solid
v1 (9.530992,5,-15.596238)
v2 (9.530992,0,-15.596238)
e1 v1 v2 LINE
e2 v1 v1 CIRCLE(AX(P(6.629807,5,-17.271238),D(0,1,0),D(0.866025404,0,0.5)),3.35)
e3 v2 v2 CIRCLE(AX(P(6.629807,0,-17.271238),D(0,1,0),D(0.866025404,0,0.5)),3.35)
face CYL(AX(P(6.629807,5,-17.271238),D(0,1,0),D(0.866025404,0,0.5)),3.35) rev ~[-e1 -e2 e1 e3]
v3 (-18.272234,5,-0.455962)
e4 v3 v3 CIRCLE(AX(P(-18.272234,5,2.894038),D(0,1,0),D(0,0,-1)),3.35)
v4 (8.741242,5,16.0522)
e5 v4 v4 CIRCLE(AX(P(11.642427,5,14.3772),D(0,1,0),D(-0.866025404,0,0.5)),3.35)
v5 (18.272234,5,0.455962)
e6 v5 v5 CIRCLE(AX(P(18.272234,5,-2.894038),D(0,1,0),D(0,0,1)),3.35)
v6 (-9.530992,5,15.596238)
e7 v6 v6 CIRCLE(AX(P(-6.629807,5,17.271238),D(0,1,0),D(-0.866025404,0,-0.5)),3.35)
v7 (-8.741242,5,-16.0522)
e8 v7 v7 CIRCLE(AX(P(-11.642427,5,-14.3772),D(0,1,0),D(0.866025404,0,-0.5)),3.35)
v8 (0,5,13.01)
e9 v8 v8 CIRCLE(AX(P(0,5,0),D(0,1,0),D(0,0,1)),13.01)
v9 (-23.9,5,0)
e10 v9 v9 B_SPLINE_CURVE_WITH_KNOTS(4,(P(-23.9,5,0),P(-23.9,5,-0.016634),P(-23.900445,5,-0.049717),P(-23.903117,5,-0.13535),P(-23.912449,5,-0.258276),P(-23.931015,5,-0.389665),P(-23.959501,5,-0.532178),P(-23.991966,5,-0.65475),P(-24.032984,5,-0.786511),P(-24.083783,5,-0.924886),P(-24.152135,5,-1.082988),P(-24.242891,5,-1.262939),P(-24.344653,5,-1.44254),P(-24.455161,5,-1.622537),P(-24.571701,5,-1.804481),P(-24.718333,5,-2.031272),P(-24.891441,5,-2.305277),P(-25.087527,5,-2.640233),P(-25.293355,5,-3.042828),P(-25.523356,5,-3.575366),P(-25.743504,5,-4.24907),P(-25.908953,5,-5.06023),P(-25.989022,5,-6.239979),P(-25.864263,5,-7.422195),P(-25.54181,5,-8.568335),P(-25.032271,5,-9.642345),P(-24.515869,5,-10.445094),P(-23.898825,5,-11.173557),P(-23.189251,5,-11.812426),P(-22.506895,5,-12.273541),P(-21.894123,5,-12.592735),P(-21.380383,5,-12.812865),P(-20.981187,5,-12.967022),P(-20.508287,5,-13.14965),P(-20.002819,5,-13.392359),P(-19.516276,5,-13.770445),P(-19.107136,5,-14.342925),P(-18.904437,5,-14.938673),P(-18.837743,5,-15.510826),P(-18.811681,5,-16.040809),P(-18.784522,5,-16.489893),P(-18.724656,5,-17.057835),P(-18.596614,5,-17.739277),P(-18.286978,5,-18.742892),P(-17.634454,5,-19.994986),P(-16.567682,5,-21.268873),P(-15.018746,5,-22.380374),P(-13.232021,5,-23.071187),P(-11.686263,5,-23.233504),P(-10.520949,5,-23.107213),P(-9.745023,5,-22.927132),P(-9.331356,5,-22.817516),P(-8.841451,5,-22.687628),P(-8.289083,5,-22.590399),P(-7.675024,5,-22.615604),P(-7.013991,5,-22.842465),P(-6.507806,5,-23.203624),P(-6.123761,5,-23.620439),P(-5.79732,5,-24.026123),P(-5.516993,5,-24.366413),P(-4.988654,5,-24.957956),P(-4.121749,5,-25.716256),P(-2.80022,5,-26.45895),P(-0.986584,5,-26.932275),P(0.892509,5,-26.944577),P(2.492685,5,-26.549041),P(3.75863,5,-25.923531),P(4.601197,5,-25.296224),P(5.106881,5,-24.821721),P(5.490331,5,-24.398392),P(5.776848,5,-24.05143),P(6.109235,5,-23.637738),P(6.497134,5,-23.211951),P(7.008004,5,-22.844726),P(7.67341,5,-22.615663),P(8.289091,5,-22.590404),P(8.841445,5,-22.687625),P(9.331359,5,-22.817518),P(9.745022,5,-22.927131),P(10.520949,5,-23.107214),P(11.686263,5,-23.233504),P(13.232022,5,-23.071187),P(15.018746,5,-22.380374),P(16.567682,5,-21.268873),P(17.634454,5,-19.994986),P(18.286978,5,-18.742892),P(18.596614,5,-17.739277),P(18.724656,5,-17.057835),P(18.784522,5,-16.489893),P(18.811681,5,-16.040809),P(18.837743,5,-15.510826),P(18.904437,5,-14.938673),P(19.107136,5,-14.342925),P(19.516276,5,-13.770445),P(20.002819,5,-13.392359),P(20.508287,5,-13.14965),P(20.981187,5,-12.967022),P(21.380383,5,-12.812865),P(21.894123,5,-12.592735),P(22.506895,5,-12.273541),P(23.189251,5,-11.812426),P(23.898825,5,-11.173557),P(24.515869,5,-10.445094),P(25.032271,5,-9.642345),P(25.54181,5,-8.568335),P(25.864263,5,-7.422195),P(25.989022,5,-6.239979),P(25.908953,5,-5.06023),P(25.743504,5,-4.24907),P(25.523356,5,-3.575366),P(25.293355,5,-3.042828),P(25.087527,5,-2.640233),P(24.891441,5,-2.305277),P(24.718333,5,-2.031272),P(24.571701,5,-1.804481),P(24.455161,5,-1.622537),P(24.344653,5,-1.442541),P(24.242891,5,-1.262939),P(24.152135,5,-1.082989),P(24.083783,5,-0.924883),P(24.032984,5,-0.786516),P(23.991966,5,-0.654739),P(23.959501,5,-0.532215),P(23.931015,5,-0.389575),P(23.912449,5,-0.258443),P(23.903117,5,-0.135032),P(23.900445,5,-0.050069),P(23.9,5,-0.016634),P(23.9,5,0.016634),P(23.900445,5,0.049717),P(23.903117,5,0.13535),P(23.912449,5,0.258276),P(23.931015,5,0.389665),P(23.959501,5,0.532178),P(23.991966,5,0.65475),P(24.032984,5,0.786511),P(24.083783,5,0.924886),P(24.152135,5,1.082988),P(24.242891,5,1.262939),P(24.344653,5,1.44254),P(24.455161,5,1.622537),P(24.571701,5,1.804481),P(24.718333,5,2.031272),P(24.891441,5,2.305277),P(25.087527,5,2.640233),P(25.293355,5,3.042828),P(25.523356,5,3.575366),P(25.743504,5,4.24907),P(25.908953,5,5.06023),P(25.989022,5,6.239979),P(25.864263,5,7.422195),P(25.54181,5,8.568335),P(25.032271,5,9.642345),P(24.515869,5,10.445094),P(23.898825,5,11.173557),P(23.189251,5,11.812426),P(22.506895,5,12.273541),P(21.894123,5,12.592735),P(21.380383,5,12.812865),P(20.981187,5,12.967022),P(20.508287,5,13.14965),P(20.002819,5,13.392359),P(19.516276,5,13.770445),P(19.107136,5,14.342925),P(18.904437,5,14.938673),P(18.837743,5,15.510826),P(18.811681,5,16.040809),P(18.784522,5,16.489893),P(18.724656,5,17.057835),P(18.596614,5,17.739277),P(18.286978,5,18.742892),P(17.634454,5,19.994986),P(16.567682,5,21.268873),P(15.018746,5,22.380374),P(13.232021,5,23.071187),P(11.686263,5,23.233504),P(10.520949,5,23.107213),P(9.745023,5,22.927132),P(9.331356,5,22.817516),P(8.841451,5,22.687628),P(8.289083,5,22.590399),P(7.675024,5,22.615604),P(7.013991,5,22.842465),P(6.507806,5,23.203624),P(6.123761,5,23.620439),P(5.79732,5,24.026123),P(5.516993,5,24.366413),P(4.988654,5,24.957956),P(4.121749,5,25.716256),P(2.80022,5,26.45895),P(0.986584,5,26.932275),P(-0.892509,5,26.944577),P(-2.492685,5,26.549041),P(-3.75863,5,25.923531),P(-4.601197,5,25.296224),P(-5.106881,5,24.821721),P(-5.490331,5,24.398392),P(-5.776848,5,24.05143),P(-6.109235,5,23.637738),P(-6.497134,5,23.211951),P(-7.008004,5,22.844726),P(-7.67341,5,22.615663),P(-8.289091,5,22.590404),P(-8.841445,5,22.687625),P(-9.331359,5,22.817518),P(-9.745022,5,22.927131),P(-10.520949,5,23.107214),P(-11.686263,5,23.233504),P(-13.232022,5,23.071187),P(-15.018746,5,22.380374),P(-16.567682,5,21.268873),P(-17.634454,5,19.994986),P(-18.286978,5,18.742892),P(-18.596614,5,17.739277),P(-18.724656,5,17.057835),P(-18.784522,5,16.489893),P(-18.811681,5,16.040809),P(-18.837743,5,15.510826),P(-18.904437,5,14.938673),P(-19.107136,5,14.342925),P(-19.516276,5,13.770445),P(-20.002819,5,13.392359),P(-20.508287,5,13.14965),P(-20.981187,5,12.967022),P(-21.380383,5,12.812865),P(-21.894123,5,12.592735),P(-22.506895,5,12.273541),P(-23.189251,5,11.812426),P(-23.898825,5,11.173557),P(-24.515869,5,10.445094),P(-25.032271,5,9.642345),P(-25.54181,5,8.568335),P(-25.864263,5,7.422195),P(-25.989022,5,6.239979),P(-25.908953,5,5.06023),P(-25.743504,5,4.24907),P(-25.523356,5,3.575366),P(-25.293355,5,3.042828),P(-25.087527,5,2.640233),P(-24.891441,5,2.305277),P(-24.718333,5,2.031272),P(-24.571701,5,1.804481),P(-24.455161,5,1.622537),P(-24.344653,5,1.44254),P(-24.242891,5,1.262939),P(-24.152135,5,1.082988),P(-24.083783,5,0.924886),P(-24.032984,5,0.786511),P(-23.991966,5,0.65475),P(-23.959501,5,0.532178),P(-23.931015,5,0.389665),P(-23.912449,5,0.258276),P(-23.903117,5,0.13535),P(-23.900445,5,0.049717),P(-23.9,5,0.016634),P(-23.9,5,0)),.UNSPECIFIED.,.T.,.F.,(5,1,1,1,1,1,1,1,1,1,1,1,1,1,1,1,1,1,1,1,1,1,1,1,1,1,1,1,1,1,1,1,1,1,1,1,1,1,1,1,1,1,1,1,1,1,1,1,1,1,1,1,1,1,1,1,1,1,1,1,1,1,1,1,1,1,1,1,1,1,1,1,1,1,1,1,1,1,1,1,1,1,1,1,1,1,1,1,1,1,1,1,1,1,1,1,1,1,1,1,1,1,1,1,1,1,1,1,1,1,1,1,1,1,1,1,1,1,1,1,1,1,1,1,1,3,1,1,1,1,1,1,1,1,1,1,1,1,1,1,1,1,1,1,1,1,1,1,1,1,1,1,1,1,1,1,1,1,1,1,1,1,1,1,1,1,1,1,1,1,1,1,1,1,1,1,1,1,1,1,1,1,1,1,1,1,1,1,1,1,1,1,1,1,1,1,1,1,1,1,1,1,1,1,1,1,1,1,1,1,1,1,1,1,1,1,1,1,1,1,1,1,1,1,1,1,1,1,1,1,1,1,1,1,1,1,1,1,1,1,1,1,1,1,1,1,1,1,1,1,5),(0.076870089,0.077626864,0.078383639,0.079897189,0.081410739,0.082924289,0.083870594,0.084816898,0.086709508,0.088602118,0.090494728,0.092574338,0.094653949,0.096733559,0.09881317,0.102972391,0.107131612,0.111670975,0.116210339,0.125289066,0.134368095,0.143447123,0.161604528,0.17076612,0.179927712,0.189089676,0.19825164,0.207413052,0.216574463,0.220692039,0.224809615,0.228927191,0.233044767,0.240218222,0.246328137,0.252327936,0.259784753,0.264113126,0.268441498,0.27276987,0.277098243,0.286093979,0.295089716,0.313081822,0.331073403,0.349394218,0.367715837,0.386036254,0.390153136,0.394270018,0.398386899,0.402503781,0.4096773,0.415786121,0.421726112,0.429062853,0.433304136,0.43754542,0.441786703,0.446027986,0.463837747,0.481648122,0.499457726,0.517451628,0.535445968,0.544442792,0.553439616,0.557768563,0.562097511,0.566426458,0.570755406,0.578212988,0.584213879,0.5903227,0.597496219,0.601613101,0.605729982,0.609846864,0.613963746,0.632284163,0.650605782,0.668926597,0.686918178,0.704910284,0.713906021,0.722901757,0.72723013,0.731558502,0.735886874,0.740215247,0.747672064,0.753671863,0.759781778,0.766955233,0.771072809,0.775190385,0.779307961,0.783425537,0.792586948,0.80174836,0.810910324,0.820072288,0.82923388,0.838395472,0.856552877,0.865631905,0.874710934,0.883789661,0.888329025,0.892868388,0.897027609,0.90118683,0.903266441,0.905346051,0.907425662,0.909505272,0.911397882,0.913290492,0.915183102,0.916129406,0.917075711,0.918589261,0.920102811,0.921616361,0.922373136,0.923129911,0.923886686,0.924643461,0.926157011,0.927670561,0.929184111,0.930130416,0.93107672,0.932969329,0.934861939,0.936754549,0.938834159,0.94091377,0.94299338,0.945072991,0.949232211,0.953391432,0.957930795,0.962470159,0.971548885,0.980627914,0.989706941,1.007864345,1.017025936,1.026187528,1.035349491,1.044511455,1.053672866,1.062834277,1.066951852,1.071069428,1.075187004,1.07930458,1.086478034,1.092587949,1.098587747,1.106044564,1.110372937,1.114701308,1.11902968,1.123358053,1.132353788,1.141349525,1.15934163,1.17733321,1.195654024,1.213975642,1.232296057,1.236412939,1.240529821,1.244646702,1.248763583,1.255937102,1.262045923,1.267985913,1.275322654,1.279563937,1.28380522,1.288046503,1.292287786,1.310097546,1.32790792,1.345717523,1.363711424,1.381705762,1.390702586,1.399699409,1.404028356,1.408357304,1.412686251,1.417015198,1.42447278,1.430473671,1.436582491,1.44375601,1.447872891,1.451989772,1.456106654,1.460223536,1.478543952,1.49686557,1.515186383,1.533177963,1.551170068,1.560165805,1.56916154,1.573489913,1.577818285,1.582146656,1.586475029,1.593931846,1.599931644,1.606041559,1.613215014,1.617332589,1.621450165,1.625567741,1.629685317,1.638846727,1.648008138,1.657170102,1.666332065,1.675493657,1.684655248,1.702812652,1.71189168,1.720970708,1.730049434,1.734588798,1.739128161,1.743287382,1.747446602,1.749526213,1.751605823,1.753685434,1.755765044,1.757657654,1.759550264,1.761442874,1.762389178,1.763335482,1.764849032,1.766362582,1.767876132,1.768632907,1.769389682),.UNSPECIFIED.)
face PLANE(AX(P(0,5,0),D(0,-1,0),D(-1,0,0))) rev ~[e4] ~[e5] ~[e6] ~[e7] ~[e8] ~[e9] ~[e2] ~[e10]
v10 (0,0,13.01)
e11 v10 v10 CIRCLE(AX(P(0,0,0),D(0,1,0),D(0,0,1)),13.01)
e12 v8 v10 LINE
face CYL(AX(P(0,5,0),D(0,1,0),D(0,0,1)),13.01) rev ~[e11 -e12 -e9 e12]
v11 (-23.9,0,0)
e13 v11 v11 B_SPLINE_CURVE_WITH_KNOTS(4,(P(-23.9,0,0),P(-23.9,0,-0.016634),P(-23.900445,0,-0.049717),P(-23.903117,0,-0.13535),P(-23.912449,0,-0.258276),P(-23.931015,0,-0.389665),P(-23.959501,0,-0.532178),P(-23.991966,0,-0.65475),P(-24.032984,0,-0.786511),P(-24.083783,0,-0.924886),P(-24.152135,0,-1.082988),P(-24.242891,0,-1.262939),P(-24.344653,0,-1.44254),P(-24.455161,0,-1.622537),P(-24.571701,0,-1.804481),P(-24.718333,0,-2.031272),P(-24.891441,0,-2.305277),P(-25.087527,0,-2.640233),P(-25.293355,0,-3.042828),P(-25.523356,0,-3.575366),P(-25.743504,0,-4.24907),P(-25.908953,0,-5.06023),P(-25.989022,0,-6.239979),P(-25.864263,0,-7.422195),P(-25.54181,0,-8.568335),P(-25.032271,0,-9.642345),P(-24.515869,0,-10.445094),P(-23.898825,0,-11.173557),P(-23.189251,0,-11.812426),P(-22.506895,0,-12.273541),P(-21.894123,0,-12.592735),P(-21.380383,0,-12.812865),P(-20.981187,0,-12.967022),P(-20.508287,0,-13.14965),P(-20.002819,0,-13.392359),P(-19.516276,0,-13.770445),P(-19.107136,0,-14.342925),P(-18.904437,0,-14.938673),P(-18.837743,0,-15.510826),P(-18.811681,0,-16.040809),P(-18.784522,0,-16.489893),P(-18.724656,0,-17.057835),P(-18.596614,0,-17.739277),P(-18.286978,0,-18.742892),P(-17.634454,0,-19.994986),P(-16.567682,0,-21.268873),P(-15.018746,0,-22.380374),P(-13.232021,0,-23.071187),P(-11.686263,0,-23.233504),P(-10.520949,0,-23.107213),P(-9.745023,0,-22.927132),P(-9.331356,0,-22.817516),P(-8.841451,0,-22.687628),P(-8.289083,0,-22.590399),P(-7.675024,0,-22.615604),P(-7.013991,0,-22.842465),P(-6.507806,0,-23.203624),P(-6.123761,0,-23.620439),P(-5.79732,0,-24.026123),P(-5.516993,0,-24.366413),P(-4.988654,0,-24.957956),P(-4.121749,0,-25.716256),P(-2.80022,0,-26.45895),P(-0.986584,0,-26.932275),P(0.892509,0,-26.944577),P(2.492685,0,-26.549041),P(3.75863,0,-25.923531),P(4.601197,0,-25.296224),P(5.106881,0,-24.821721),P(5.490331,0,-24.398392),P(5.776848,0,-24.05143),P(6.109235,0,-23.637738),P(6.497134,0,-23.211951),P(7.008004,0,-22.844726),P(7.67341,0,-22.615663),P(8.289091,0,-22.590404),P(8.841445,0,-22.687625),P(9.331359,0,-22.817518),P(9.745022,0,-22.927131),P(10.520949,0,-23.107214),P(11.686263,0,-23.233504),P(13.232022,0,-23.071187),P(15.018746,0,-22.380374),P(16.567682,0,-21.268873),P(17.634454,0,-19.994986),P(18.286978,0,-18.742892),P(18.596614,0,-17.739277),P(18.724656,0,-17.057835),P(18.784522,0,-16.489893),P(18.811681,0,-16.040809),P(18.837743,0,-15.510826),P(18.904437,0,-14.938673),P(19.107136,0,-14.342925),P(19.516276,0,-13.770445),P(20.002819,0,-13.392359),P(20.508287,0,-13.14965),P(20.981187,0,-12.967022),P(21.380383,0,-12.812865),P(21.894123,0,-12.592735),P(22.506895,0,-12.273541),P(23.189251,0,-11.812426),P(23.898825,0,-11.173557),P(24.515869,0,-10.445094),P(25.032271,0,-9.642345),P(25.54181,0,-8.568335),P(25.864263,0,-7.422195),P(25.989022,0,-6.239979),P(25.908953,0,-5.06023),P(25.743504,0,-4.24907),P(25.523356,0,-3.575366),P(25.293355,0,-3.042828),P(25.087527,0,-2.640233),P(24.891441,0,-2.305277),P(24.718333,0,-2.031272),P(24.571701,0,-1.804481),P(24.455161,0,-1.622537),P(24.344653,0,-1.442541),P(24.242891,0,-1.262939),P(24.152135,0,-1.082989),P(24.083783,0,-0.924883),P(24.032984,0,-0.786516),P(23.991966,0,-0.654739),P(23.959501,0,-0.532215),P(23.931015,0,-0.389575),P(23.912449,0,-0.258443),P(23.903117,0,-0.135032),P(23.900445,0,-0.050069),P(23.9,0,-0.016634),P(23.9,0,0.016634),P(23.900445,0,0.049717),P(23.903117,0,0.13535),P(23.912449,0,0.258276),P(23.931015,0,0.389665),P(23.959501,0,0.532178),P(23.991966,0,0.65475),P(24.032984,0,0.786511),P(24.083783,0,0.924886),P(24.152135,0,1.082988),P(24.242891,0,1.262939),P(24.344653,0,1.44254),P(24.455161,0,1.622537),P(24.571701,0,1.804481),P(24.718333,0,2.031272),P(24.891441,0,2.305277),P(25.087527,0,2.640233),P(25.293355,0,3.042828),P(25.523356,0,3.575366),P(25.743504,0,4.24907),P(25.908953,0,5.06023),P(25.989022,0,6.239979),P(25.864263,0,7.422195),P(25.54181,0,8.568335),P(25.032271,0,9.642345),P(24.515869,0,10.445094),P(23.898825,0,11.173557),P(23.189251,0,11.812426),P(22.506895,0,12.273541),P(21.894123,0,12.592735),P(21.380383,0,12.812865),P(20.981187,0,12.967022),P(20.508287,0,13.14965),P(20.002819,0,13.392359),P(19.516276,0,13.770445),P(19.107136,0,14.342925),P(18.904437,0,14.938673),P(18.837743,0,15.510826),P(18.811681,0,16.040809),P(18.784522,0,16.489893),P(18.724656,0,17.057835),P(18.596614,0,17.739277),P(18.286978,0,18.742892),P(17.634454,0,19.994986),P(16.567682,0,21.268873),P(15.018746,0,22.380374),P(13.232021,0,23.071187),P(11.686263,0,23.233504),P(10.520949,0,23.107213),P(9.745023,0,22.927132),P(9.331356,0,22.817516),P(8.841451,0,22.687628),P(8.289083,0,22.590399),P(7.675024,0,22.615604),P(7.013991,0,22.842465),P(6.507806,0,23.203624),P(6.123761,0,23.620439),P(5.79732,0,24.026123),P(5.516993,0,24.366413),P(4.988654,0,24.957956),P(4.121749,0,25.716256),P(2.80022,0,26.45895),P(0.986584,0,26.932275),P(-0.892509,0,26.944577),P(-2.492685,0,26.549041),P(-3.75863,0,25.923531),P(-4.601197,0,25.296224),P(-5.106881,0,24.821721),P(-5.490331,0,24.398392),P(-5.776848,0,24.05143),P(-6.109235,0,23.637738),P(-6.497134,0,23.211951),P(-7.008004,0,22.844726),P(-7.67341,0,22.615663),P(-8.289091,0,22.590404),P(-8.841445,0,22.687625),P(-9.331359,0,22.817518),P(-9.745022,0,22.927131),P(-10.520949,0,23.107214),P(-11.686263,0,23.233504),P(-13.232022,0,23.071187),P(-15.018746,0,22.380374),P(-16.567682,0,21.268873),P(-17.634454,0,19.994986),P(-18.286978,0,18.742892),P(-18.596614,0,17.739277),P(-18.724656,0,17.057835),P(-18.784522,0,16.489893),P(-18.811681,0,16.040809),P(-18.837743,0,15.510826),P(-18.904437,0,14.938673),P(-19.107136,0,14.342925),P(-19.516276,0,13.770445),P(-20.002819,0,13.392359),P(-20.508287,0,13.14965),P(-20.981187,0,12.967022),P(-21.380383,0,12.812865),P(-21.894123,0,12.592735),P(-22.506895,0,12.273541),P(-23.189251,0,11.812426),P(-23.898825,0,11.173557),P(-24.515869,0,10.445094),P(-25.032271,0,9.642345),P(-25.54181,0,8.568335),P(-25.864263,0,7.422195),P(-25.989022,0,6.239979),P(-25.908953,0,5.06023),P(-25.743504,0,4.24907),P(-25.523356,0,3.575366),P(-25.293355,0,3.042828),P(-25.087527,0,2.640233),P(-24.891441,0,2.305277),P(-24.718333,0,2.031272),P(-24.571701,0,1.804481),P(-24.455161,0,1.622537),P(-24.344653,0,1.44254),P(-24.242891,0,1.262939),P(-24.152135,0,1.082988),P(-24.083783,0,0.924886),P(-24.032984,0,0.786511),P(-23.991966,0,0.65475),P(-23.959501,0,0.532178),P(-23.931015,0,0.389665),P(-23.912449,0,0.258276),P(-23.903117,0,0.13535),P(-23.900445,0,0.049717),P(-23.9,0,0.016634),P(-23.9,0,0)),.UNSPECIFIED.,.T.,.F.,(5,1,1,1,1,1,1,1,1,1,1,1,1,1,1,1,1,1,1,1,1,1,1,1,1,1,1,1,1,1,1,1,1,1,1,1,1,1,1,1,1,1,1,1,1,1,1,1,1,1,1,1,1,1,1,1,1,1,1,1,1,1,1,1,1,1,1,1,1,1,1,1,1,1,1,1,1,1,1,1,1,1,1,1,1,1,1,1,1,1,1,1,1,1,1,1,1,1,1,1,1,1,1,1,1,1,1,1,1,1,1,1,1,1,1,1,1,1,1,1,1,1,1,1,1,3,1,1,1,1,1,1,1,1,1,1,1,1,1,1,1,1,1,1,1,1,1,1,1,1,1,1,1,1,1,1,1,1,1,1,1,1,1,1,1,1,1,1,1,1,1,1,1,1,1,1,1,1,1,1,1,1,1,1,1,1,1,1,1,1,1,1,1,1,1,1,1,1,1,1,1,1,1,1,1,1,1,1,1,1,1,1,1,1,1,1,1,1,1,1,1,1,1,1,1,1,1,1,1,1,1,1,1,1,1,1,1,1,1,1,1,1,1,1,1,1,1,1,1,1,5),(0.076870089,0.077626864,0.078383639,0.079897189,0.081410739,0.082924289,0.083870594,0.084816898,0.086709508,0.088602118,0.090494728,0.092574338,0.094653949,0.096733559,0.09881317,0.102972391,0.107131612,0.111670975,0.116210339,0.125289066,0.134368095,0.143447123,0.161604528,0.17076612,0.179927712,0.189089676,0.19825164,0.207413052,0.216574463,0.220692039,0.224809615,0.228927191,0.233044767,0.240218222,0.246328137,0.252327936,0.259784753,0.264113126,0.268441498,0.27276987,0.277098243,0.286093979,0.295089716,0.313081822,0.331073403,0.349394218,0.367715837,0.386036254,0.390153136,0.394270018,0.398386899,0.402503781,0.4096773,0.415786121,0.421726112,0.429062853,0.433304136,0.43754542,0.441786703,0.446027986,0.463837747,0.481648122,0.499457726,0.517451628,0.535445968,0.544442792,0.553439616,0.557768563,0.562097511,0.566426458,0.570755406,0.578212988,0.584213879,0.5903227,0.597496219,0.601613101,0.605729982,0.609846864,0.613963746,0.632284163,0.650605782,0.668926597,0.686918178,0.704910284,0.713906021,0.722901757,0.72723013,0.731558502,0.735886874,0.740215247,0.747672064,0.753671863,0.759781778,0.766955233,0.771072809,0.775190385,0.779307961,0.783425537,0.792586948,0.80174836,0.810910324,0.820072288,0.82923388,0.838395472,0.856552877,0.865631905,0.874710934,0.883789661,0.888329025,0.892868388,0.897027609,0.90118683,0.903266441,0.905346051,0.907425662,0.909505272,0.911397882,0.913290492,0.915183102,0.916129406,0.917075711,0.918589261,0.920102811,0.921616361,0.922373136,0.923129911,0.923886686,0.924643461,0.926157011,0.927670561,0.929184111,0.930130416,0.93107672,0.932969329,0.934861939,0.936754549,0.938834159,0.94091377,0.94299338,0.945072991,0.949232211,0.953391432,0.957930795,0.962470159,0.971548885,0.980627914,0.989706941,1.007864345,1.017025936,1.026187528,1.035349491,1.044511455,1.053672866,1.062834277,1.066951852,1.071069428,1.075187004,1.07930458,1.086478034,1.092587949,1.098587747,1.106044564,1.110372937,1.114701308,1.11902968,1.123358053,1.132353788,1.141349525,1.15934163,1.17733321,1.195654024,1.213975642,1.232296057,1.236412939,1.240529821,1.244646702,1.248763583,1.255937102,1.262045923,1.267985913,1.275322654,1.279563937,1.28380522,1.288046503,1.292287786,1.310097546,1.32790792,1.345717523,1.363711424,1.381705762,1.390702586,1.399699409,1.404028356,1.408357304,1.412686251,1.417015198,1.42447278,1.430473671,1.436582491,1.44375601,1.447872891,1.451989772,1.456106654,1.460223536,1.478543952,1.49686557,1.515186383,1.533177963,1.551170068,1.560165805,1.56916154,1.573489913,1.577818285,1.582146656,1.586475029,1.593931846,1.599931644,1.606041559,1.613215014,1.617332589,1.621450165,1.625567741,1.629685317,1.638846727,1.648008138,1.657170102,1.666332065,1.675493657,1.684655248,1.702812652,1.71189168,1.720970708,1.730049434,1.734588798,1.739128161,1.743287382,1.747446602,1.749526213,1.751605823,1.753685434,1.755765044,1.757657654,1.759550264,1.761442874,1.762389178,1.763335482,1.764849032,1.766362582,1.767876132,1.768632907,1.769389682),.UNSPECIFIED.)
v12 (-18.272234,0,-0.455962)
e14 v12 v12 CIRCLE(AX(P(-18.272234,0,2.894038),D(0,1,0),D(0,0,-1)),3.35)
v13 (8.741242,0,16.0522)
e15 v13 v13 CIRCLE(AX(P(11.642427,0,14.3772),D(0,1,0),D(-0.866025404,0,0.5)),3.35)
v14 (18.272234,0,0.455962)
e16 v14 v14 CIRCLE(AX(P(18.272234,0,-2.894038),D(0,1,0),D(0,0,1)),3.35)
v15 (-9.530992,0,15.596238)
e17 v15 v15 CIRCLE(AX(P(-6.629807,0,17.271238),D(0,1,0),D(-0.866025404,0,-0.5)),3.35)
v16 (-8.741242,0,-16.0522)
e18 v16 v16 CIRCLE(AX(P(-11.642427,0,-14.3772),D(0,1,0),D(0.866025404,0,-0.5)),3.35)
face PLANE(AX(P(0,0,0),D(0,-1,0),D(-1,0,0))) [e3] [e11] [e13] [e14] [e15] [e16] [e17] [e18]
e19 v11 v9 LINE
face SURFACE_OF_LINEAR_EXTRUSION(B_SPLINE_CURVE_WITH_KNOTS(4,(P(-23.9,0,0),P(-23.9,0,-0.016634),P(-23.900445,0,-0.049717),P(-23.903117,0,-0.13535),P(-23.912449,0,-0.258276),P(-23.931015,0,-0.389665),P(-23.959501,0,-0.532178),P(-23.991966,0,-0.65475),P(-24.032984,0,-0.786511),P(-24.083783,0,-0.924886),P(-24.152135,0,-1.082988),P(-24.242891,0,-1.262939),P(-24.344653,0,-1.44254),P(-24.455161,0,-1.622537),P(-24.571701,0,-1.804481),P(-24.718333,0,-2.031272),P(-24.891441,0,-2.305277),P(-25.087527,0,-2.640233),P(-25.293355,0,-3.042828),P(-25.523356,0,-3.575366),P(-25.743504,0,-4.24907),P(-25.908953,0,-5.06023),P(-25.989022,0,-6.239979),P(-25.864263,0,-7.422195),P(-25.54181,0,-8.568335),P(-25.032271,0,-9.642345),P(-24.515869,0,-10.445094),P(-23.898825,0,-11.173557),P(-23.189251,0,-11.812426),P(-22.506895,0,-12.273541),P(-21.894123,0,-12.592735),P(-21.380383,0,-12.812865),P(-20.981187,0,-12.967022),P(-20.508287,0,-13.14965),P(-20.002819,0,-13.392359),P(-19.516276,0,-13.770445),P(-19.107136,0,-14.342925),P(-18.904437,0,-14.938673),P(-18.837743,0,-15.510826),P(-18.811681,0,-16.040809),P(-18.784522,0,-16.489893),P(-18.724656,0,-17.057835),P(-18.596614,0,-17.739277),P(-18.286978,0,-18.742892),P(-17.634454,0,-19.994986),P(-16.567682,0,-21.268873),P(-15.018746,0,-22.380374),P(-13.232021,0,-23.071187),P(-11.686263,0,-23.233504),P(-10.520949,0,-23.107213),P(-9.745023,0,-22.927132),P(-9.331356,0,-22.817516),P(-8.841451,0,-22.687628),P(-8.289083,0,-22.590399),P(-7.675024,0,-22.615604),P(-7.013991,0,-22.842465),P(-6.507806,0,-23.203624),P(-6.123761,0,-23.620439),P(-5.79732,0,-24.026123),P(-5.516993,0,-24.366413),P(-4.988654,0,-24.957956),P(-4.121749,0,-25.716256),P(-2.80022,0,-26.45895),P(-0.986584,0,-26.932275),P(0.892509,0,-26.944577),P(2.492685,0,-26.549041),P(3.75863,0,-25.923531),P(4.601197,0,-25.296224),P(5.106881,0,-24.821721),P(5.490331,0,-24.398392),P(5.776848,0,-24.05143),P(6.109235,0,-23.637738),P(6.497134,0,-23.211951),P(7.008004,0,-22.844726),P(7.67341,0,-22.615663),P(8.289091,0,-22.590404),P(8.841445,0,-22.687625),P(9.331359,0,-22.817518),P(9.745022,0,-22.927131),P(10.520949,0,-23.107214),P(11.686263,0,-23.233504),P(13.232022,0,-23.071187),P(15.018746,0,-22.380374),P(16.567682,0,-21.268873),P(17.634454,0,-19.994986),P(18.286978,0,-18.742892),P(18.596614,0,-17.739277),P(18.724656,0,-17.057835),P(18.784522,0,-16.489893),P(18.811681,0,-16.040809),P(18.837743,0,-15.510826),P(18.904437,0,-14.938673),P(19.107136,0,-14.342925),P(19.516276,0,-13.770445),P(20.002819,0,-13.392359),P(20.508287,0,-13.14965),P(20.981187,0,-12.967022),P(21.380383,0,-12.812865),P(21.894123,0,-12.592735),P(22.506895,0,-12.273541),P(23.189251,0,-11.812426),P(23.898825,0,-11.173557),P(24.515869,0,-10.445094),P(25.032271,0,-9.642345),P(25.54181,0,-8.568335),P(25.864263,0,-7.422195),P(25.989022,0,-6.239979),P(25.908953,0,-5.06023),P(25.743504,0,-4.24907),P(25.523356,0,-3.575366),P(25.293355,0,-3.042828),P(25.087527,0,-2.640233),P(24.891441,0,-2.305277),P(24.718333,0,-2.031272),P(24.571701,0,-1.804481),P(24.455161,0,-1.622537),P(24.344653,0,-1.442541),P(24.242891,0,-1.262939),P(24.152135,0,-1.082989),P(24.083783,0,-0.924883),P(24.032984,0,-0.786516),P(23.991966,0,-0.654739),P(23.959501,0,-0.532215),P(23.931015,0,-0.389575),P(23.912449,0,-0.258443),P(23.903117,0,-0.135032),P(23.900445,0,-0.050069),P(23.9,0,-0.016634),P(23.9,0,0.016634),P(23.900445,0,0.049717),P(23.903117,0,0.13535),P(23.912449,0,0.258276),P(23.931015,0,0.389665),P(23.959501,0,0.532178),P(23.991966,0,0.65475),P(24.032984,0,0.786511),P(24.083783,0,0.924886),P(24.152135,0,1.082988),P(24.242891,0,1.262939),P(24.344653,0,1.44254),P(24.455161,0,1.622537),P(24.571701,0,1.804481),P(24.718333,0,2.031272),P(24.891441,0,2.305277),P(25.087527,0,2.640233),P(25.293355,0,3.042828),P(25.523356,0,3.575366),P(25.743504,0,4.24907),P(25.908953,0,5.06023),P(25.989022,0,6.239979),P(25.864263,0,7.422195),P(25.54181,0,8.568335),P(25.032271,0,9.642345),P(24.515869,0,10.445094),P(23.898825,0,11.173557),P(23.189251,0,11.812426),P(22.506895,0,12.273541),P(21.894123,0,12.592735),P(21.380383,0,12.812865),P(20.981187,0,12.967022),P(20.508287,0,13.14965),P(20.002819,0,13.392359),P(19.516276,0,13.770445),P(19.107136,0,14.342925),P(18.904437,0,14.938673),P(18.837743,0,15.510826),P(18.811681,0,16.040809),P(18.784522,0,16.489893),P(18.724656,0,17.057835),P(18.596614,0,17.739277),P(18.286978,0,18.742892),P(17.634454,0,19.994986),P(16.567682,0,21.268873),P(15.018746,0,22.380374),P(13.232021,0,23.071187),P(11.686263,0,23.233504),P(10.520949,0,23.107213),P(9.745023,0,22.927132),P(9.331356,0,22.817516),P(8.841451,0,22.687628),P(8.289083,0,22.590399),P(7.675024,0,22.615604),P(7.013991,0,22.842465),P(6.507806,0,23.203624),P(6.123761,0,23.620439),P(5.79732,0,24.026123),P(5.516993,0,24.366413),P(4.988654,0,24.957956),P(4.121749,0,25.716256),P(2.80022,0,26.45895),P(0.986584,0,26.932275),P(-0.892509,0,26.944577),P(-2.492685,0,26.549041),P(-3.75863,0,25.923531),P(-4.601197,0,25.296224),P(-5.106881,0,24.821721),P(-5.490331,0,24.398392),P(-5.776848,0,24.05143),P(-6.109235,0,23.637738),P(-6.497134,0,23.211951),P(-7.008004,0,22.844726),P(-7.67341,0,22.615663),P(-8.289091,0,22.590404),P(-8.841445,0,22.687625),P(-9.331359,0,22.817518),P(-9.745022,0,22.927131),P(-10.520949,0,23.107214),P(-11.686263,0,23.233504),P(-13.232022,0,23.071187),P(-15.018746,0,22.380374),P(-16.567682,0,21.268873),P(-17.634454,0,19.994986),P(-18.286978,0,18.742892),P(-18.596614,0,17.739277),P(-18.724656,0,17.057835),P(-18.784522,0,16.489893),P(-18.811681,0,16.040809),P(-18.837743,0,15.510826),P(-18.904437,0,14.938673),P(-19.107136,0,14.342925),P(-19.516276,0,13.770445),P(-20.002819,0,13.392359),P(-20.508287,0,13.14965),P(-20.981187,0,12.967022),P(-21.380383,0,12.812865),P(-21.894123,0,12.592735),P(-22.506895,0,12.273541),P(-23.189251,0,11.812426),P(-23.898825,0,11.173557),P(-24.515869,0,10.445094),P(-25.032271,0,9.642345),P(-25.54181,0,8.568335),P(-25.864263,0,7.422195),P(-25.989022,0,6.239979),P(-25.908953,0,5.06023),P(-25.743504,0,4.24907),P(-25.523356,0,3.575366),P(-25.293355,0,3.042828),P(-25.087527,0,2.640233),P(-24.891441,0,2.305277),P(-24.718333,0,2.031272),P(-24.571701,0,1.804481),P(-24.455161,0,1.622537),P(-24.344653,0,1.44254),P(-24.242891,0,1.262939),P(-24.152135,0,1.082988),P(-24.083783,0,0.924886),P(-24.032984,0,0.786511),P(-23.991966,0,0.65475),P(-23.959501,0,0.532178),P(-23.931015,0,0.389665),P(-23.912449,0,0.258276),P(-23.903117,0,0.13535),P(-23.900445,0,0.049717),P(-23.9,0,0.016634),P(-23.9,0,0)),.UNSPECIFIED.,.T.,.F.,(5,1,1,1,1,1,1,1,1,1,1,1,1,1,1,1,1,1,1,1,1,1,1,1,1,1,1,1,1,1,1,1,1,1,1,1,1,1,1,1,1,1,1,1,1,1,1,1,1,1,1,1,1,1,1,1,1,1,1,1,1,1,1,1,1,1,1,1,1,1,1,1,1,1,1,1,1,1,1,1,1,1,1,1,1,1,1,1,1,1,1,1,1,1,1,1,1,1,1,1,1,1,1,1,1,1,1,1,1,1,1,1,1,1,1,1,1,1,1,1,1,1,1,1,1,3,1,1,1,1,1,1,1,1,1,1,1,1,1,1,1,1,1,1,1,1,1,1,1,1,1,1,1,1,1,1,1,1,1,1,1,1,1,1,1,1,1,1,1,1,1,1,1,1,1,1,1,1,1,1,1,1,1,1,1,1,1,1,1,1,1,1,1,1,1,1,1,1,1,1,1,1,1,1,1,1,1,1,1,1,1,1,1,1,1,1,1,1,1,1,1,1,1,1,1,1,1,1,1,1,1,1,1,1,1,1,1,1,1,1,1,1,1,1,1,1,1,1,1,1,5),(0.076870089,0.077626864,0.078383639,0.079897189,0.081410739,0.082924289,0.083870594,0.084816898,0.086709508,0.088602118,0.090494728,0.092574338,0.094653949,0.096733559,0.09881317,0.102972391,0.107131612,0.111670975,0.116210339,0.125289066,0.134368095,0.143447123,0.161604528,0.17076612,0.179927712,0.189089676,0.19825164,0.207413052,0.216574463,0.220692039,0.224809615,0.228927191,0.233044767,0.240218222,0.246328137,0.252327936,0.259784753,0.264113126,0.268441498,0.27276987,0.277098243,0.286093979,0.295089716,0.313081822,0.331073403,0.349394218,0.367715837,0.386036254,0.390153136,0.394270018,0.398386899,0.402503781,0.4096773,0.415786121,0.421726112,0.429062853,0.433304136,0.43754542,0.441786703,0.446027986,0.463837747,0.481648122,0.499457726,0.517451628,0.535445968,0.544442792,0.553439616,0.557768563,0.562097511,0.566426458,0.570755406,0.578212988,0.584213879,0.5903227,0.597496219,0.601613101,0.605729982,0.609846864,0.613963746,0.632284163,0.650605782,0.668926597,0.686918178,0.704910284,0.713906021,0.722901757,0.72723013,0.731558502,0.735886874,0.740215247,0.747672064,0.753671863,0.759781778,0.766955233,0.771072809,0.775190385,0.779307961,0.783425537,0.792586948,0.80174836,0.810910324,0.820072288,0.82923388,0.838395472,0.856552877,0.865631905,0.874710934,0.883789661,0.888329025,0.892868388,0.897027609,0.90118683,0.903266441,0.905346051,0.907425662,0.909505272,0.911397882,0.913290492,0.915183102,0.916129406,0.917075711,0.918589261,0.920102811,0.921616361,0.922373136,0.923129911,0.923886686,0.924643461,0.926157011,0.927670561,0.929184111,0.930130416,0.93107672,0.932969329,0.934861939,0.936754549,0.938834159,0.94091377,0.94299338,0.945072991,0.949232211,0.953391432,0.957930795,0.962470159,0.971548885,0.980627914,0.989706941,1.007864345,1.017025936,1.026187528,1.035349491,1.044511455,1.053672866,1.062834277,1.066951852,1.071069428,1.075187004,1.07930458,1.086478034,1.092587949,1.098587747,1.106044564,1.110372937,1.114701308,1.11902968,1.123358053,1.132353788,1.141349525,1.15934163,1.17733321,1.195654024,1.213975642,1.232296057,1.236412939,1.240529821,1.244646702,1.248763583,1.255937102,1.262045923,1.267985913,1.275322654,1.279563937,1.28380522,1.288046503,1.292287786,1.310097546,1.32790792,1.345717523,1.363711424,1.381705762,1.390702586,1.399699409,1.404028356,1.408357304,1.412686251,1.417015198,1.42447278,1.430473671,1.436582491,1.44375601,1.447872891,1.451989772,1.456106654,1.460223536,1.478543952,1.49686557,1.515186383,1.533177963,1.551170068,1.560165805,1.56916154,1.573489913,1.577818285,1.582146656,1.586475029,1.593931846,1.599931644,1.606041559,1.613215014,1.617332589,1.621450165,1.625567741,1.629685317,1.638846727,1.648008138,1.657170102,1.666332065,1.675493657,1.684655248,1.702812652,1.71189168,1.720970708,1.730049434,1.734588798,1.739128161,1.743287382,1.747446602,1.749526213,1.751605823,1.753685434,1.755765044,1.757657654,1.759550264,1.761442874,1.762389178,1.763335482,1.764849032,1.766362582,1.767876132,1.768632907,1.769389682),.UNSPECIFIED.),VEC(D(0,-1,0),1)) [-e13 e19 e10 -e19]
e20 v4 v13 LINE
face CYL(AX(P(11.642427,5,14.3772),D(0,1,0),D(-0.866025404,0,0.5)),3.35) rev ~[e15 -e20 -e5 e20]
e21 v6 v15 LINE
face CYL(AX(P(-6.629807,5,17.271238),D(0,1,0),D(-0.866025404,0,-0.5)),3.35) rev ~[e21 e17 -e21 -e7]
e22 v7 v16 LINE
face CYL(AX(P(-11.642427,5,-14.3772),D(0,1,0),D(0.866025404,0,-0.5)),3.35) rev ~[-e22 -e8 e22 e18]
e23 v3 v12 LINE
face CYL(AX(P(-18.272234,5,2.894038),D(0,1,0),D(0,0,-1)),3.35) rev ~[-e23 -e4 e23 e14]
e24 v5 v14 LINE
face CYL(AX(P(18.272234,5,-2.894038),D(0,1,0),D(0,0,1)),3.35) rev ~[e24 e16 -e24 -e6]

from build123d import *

# Parameters (mm, degrees)
BOSS_EXTRUDE1_DEPTH = 5
SKETCH2_R           = 13.01
CUT_EXTRUDE1_DEPTH  = 38.707841393
SKETCH3_R           = 3.35
CUT_EXTRUDE2_DEPTH  = 38.707841393
CIRPATTERN1_COUNT   = 6


with BuildPart() as part:
    # Sketch1 → Boss-Extrude1 (new body)
    with BuildSketch(Plane(origin=(0, 0, 0), x_dir=(1, 0, 0), z_dir=(0, 1, 0))):
        with BuildLine():
            add(Edge.make_bspline(
                [(23.9, 0), (23.9, -0.016633989), (23.900445322, -0.049716738), (23.903117263, -0.135350435), (23.912449323, -0.258275625), (23.931014764, -0.389664583), (23.95950077, -0.532178366), (23.991965599, -0.654750336), (24.032983907, -0.786511172), (24.083782664, -0.924885773), (24.152134694, -1.082987887), (24.242890991, -1.262939392), (24.344653165, -1.442540166), (24.455160863, -1.62253731), (24.571701309, -1.804480724), (24.718332668, -2.031272436), (24.891440754, -2.305276667), (25.08752709, -2.640233385), (25.293354955, -3.042827983), (25.523356461, -3.575365943), (25.743503693, -4.249070037), (25.90895307, -5.060229623), (25.989021701, -6.239979202), (25.864263399, -7.422194916), (25.541810184, -8.56833506), (25.032271071, -9.642344828), (24.515868766, -10.44509368), (23.898825197, -11.173556713), (23.189250761, -11.812425557), (22.506894507, -12.273540648), (21.894123423, -12.592734858), (21.380382876, -12.81286495), (20.981186658, -12.967022062), (20.508286762, -13.149650453), (20.002819314, -13.392358805), (19.516275612, -13.770444983), (19.107135549, -14.342924661), (18.904436986, -14.938672604), (18.837743288, -15.510825887), (18.811680981, -16.040809437), (18.784521574, -16.489892991), (18.724656278, -17.057834998), (18.596613672, -17.739277292), (18.286978104, -18.742891592), (17.634453661, -19.994985608), (16.567681951, -21.268872628), (15.018746131, -22.380373674), (13.232021309, -23.071186796), (11.686263401, -23.233504295), (10.520948657, -23.10721323), (9.745023474, -22.927131672), (9.331355803, -22.817516456), (8.8414507, -22.687628022), (8.289082778, -22.590399027), (7.675024184, -22.615604046), (7.013991426, -22.842464767), (6.507806015, -23.203624322), (6.123760777, -23.620439494), (5.797319915, -24.026122754), (5.516993379, -24.366413103), (4.988653796, -24.957955887), (4.121749015, -25.716255592), (2.800220177, -26.458949577), (0.986584089, -26.932274503), (-0.892508871, -26.944576885), (-2.492684707, -26.549040992), (-3.758629608, -25.923530552), (-4.601197212, -25.296224361), (-5.106881385, -24.821721344), (-5.490331154, -24.398391643), (-5.776848315, -24.051429867), (-6.109234539, -23.637738359), (-6.497134166, -23.211951019), (-7.00800434, -22.844726368), (-7.673409625, -22.615662906), (-8.289091303, -22.590403621), (-8.841445105, -22.687625059), (-9.331358863, -22.817518065), (-9.745022337, -22.927131075), (-10.520949385, -23.107213612), (-11.686262901, -23.233504033), (-13.232021627, -23.071186963), (-15.018745949, -22.380373578), (-16.567682076, -21.268872694), (-17.63445358, -19.994985565), (-18.286978155, -18.742891619), (-18.596613642, -17.739277276), (-18.724656297, -17.057835008), (-18.784521564, -16.489892985), (-18.811680987, -16.04080944), (-18.837743285, -15.510825885), (-18.904436988, -14.938672605), (-19.107135548, -14.34292466), (-19.516275613, -13.770444984), (-20.002819314, -13.392358805), (-20.508286763, -13.149650453), (-20.981186657, -12.967022061), (-21.380382877, -12.81286495), (-21.894123423, -12.592734858), (-22.506894507, -12.273540648), (-23.189250761, -11.812425557), (-23.898825197, -11.173556713), (-24.515868766, -10.44509368), (-25.032271071, -9.642344828), (-25.541810184, -8.56833506), (-25.864263399, -7.422194916), (-25.989021701, -6.239979202), (-25.90895307, -5.060229623), (-25.743503693, -4.249070037), (-25.523356461, -3.575365943), (-25.293354955, -3.042827983), (-25.08752709, -2.640233385), (-24.891440754, -2.305276667), (-24.718332668, -2.031272436), (-24.571701309, -1.804480724), (-24.455160863, -1.62253731), (-24.344653165, -1.442540166), (-24.242890991, -1.262939392), (-24.152134694, -1.082987887), (-24.083782664, -0.924885773), (-24.032983907, -0.786511172), (-23.991965599, -0.654750336), (-23.95950077, -0.532178365), (-23.931014765, -0.389664584), (-23.912449321, -0.258275624), (-23.903117265, -0.135350437), (-23.900445324, -0.049716739), (-23.9, -0.016633989), (-23.9, 0)],
                knots=[0.076870089, 0.076870089, 0.076870089, 0.076870089, 0.076870089, 0.077626864, 0.078383639, 0.079897189, 0.081410739, 0.082924289, 0.083870594, 0.084816898, 0.086709508, 0.088602118, 0.090494728, 0.092574338, 0.094653949, 0.096733559, 0.09881317, 0.102972391, 0.107131612, 0.111670975, 0.116210339, 0.125289066, 0.134368095, 0.143447123, 0.161604528, 0.17076612, 0.179927712, 0.189089676, 0.19825164, 0.207413052, 0.216574463, 0.220692039, 0.224809615, 0.228927191, 0.233044767, 0.240218222, 0.246328137, 0.252327936, 0.259784753, 0.264113126, 0.268441498, 0.27276987, 0.277098243, 0.286093979, 0.295089716, 0.313081822, 0.331073403, 0.349394218, 0.367715837, 0.386036254, 0.390153136, 0.394270018, 0.398386899, 0.402503781, 0.4096773, 0.415786121, 0.421726112, 0.429062853, 0.433304136, 0.43754542, 0.441786703, 0.446027986, 0.463837747, 0.481648122, 0.499457726, 0.517451628, 0.535445968, 0.544442792, 0.553439616, 0.557768563, 0.562097511, 0.566426458, 0.570755406, 0.578212988, 0.584213879, 0.5903227, 0.597496219, 0.601613101, 0.605729982, 0.609846864, 0.613963746, 0.632284163, 0.650605782, 0.668926597, 0.686918178, 0.704910284, 0.713906021, 0.722901757, 0.72723013, 0.731558502, 0.735886874, 0.740215247, 0.747672064, 0.753671863, 0.759781778, 0.766955233, 0.771072809, 0.775190385, 0.779307961, 0.783425537, 0.792586948, 0.80174836, 0.810910324, 0.820072288, 0.82923388, 0.838395472, 0.856552877, 0.865631905, 0.874710934, 0.883789661, 0.888329025, 0.892868388, 0.897027609, 0.90118683, 0.903266441, 0.905346051, 0.907425662, 0.909505272, 0.911397882, 0.913290492, 0.915183102, 0.916129406, 0.917075711, 0.918589261, 0.920102811, 0.921616361, 0.922373136, 0.923129911, 0.923129911, 0.923129911, 0.923129911, 0.923129911], degree=4))
            add(Edge.make_bspline(
                [(-23.9, 0), (-23.9, 0.016633989), (-23.900445322, 0.049716738), (-23.903117263, 0.135350435), (-23.912449323, 0.258275625), (-23.931014764, 0.389664583), (-23.95950077, 0.532178365), (-23.991965599, 0.654750336), (-24.032983907, 0.786511172), (-24.083782664, 0.924885773), (-24.152134694, 1.082987887), (-24.242890991, 1.262939392), (-24.344653165, 1.442540166), (-24.455160863, 1.62253731), (-24.571701309, 1.804480724), (-24.718332668, 2.031272436), (-24.891440754, 2.305276667), (-25.08752709, 2.640233385), (-25.293354955, 3.042827983), (-25.523356461, 3.575365943), (-25.743503693, 4.249070037), (-25.90895307, 5.060229623), (-25.989021701, 6.239979202), (-25.864263399, 7.422194916), (-25.541810184, 8.56833506), (-25.032271071, 9.642344828), (-24.515868766, 10.44509368), (-23.898825197, 11.173556713), (-23.189250761, 11.812425557), (-22.506894507, 12.273540648), (-21.894123423, 12.592734858), (-21.380382876, 12.81286495), (-20.981186658, 12.967022062), (-20.508286762, 13.149650453), (-20.002819314, 13.392358805), (-19.516275612, 13.770444983), (-19.107135549, 14.342924661), (-18.904436986, 14.938672604), (-18.837743288, 15.510825887), (-18.811680981, 16.040809437), (-18.784521574, 16.489892991), (-18.724656278, 17.057834998), (-18.596613672, 17.739277292), (-18.286978104, 18.742891592), (-17.634453661, 19.994985608), (-16.567681951, 21.268872628), (-15.018746131, 22.380373674), (-13.232021309, 23.071186796), (-11.686263401, 23.233504295), (-10.520948657, 23.10721323), (-9.745023474, 22.927131672), (-9.331355803, 22.817516456), (-8.8414507, 22.687628022), (-8.289082778, 22.590399027), (-7.675024184, 22.615604046), (-7.013991426, 22.842464767), (-6.507806015, 23.203624322), (-6.123760777, 23.620439494), (-5.797319915, 24.026122754), (-5.516993379, 24.366413103), (-4.988653796, 24.957955887), (-4.121749015, 25.716255592), (-2.800220177, 26.458949577), (-0.986584089, 26.932274503), (0.892508871, 26.944576885), (2.492684707, 26.549040992), (3.758629608, 25.923530552), (4.601197212, 25.296224361), (5.106881385, 24.821721344), (5.490331154, 24.398391643), (5.776848315, 24.051429867), (6.109234539, 23.637738359), (6.497134166, 23.211951019), (7.00800434, 22.844726368), (7.673409625, 22.615662906), (8.289091303, 22.590403621), (8.841445105, 22.687625059), (9.331358863, 22.817518065), (9.745022337, 22.927131075), (10.520949385, 23.107213612), (11.686262901, 23.233504033), (13.232021627, 23.071186963), (15.018745949, 22.380373578), (16.567682076, 21.268872694), (17.63445358, 19.994985565), (18.286978155, 18.742891619), (18.596613642, 17.739277276), (18.724656297, 17.057835008), (18.784521564, 16.489892985), (18.811680987, 16.04080944), (18.837743285, 15.510825885), (18.904436988, 14.938672605), (19.107135548, 14.34292466), (19.516275613, 13.770444984), (20.002819314, 13.392358805), (20.508286763, 13.149650453), (20.981186657, 12.967022061), (21.380382877, 12.81286495), (21.894123423, 12.592734858), (22.506894507, 12.273540648), (23.189250761, 11.812425557), (23.898825197, 11.173556713), (24.515868766, 10.44509368), (25.032271071, 9.642344828), (25.541810184, 8.56833506), (25.864263399, 7.422194915), (25.989021701, 6.239979203), (25.90895307, 5.060229621), (25.743503693, 4.249070041), (25.523356461, 3.575365937), (25.293354955, 3.042827994), (25.08752709, 2.640233361), (24.891440754, 2.30527671), (24.718332668, 2.031272365), (24.571701309, 1.804480847), (24.455160863, 1.622537048), (24.344653165, 1.442540618), (24.242890991, 1.262938646), (24.152134694, 1.08298926), (24.083782664, 0.92488324), (24.032983907, 0.786515802), (23.991965599, 0.654738614), (23.95950077, 0.53221509), (23.931014764, 0.389575382), (23.912449323, 0.258442601), (23.903117262, 0.135032083), (23.900445327, 0.050068621), (23.9, 0.01663399), (23.9, 0)],
                knots=[0.076870089, 0.076870089, 0.076870089, 0.076870089, 0.076870089, 0.077626864, 0.078383639, 0.079897189, 0.081410739, 0.082924289, 0.083870594, 0.084816898, 0.086709508, 0.088602118, 0.090494728, 0.092574338, 0.094653949, 0.096733559, 0.09881317, 0.102972391, 0.107131612, 0.111670975, 0.116210339, 0.125289066, 0.134368095, 0.143447123, 0.161604528, 0.17076612, 0.179927712, 0.189089676, 0.19825164, 0.207413052, 0.216574463, 0.220692039, 0.224809615, 0.228927191, 0.233044767, 0.240218222, 0.246328137, 0.252327936, 0.259784753, 0.264113126, 0.268441498, 0.27276987, 0.277098243, 0.286093979, 0.295089716, 0.313081822, 0.331073403, 0.349394218, 0.367715837, 0.386036254, 0.390153136, 0.394270018, 0.398386899, 0.402503781, 0.4096773, 0.415786121, 0.421726112, 0.429062853, 0.433304136, 0.43754542, 0.441786703, 0.446027986, 0.463837747, 0.481648122, 0.499457726, 0.517451628, 0.535445968, 0.544442792, 0.553439616, 0.557768563, 0.562097511, 0.566426458, 0.570755406, 0.578212988, 0.584213879, 0.5903227, 0.597496219, 0.601613101, 0.605729982, 0.609846864, 0.613963746, 0.632284163, 0.650605782, 0.668926597, 0.686918178, 0.704910284, 0.713906021, 0.722901757, 0.72723013, 0.731558502, 0.735886874, 0.740215247, 0.747672064, 0.753671863, 0.759781778, 0.766955233, 0.771072809, 0.775190385, 0.779307961, 0.783425537, 0.792586948, 0.80174836, 0.810910324, 0.820072288, 0.82923388, 0.838395472, 0.856552877, 0.865631905, 0.874710934, 0.883789661, 0.888329025, 0.892868388, 0.897027609, 0.90118683, 0.903266441, 0.905346051, 0.907425662, 0.909505272, 0.911397882, 0.913290492, 0.915183102, 0.916129406, 0.917075711, 0.918589261, 0.920102811, 0.921616361, 0.922373136, 0.923129911, 0.923129911, 0.923129911, 0.923129911, 0.923129911], degree=4))
        make_face()
    extrude(amount=BOSS_EXTRUDE1_DEPTH)

    # Sketch2 → Cut-Extrude1 (cut, through all)
    with BuildSketch(Plane(origin=(0, 5, 0), x_dir=(1, 0, 0), z_dir=(0, 1, 0))):
        with Locations(Location((0, 0, 0), (0, 0, 270))):
            Circle(SKETCH2_R)
    extrude(amount=-CUT_EXTRUDE1_DEPTH, mode=Mode.SUBTRACT)

    # Sketch3 → Cut-Extrude2 (cut, through all)
    with BuildSketch(Plane(origin=(0, 5, 0), x_dir=(1, 0, 0), z_dir=(0, 1, 0))):
        with Locations(Location((18.272234301, 2.894037603, 0), (0, 0, 270))):
            Circle(SKETCH3_R)
    cut_extrude2 = extrude(amount=-CUT_EXTRUDE2_DEPTH, mode=Mode.SUBTRACT)

    # CirPattern1: Cut-Extrude2 ×6 about axis
    cirpattern1_axis = Axis((0, 0, 0), (0, 1, 0))
    for i in range(1, CIRPATTERN1_COUNT):
        add(cut_extrude2.rotate(cirpattern1_axis, i * 360 / CIRPATTERN1_COUNT), mode=Mode.SUBTRACT)


solid = part.part
